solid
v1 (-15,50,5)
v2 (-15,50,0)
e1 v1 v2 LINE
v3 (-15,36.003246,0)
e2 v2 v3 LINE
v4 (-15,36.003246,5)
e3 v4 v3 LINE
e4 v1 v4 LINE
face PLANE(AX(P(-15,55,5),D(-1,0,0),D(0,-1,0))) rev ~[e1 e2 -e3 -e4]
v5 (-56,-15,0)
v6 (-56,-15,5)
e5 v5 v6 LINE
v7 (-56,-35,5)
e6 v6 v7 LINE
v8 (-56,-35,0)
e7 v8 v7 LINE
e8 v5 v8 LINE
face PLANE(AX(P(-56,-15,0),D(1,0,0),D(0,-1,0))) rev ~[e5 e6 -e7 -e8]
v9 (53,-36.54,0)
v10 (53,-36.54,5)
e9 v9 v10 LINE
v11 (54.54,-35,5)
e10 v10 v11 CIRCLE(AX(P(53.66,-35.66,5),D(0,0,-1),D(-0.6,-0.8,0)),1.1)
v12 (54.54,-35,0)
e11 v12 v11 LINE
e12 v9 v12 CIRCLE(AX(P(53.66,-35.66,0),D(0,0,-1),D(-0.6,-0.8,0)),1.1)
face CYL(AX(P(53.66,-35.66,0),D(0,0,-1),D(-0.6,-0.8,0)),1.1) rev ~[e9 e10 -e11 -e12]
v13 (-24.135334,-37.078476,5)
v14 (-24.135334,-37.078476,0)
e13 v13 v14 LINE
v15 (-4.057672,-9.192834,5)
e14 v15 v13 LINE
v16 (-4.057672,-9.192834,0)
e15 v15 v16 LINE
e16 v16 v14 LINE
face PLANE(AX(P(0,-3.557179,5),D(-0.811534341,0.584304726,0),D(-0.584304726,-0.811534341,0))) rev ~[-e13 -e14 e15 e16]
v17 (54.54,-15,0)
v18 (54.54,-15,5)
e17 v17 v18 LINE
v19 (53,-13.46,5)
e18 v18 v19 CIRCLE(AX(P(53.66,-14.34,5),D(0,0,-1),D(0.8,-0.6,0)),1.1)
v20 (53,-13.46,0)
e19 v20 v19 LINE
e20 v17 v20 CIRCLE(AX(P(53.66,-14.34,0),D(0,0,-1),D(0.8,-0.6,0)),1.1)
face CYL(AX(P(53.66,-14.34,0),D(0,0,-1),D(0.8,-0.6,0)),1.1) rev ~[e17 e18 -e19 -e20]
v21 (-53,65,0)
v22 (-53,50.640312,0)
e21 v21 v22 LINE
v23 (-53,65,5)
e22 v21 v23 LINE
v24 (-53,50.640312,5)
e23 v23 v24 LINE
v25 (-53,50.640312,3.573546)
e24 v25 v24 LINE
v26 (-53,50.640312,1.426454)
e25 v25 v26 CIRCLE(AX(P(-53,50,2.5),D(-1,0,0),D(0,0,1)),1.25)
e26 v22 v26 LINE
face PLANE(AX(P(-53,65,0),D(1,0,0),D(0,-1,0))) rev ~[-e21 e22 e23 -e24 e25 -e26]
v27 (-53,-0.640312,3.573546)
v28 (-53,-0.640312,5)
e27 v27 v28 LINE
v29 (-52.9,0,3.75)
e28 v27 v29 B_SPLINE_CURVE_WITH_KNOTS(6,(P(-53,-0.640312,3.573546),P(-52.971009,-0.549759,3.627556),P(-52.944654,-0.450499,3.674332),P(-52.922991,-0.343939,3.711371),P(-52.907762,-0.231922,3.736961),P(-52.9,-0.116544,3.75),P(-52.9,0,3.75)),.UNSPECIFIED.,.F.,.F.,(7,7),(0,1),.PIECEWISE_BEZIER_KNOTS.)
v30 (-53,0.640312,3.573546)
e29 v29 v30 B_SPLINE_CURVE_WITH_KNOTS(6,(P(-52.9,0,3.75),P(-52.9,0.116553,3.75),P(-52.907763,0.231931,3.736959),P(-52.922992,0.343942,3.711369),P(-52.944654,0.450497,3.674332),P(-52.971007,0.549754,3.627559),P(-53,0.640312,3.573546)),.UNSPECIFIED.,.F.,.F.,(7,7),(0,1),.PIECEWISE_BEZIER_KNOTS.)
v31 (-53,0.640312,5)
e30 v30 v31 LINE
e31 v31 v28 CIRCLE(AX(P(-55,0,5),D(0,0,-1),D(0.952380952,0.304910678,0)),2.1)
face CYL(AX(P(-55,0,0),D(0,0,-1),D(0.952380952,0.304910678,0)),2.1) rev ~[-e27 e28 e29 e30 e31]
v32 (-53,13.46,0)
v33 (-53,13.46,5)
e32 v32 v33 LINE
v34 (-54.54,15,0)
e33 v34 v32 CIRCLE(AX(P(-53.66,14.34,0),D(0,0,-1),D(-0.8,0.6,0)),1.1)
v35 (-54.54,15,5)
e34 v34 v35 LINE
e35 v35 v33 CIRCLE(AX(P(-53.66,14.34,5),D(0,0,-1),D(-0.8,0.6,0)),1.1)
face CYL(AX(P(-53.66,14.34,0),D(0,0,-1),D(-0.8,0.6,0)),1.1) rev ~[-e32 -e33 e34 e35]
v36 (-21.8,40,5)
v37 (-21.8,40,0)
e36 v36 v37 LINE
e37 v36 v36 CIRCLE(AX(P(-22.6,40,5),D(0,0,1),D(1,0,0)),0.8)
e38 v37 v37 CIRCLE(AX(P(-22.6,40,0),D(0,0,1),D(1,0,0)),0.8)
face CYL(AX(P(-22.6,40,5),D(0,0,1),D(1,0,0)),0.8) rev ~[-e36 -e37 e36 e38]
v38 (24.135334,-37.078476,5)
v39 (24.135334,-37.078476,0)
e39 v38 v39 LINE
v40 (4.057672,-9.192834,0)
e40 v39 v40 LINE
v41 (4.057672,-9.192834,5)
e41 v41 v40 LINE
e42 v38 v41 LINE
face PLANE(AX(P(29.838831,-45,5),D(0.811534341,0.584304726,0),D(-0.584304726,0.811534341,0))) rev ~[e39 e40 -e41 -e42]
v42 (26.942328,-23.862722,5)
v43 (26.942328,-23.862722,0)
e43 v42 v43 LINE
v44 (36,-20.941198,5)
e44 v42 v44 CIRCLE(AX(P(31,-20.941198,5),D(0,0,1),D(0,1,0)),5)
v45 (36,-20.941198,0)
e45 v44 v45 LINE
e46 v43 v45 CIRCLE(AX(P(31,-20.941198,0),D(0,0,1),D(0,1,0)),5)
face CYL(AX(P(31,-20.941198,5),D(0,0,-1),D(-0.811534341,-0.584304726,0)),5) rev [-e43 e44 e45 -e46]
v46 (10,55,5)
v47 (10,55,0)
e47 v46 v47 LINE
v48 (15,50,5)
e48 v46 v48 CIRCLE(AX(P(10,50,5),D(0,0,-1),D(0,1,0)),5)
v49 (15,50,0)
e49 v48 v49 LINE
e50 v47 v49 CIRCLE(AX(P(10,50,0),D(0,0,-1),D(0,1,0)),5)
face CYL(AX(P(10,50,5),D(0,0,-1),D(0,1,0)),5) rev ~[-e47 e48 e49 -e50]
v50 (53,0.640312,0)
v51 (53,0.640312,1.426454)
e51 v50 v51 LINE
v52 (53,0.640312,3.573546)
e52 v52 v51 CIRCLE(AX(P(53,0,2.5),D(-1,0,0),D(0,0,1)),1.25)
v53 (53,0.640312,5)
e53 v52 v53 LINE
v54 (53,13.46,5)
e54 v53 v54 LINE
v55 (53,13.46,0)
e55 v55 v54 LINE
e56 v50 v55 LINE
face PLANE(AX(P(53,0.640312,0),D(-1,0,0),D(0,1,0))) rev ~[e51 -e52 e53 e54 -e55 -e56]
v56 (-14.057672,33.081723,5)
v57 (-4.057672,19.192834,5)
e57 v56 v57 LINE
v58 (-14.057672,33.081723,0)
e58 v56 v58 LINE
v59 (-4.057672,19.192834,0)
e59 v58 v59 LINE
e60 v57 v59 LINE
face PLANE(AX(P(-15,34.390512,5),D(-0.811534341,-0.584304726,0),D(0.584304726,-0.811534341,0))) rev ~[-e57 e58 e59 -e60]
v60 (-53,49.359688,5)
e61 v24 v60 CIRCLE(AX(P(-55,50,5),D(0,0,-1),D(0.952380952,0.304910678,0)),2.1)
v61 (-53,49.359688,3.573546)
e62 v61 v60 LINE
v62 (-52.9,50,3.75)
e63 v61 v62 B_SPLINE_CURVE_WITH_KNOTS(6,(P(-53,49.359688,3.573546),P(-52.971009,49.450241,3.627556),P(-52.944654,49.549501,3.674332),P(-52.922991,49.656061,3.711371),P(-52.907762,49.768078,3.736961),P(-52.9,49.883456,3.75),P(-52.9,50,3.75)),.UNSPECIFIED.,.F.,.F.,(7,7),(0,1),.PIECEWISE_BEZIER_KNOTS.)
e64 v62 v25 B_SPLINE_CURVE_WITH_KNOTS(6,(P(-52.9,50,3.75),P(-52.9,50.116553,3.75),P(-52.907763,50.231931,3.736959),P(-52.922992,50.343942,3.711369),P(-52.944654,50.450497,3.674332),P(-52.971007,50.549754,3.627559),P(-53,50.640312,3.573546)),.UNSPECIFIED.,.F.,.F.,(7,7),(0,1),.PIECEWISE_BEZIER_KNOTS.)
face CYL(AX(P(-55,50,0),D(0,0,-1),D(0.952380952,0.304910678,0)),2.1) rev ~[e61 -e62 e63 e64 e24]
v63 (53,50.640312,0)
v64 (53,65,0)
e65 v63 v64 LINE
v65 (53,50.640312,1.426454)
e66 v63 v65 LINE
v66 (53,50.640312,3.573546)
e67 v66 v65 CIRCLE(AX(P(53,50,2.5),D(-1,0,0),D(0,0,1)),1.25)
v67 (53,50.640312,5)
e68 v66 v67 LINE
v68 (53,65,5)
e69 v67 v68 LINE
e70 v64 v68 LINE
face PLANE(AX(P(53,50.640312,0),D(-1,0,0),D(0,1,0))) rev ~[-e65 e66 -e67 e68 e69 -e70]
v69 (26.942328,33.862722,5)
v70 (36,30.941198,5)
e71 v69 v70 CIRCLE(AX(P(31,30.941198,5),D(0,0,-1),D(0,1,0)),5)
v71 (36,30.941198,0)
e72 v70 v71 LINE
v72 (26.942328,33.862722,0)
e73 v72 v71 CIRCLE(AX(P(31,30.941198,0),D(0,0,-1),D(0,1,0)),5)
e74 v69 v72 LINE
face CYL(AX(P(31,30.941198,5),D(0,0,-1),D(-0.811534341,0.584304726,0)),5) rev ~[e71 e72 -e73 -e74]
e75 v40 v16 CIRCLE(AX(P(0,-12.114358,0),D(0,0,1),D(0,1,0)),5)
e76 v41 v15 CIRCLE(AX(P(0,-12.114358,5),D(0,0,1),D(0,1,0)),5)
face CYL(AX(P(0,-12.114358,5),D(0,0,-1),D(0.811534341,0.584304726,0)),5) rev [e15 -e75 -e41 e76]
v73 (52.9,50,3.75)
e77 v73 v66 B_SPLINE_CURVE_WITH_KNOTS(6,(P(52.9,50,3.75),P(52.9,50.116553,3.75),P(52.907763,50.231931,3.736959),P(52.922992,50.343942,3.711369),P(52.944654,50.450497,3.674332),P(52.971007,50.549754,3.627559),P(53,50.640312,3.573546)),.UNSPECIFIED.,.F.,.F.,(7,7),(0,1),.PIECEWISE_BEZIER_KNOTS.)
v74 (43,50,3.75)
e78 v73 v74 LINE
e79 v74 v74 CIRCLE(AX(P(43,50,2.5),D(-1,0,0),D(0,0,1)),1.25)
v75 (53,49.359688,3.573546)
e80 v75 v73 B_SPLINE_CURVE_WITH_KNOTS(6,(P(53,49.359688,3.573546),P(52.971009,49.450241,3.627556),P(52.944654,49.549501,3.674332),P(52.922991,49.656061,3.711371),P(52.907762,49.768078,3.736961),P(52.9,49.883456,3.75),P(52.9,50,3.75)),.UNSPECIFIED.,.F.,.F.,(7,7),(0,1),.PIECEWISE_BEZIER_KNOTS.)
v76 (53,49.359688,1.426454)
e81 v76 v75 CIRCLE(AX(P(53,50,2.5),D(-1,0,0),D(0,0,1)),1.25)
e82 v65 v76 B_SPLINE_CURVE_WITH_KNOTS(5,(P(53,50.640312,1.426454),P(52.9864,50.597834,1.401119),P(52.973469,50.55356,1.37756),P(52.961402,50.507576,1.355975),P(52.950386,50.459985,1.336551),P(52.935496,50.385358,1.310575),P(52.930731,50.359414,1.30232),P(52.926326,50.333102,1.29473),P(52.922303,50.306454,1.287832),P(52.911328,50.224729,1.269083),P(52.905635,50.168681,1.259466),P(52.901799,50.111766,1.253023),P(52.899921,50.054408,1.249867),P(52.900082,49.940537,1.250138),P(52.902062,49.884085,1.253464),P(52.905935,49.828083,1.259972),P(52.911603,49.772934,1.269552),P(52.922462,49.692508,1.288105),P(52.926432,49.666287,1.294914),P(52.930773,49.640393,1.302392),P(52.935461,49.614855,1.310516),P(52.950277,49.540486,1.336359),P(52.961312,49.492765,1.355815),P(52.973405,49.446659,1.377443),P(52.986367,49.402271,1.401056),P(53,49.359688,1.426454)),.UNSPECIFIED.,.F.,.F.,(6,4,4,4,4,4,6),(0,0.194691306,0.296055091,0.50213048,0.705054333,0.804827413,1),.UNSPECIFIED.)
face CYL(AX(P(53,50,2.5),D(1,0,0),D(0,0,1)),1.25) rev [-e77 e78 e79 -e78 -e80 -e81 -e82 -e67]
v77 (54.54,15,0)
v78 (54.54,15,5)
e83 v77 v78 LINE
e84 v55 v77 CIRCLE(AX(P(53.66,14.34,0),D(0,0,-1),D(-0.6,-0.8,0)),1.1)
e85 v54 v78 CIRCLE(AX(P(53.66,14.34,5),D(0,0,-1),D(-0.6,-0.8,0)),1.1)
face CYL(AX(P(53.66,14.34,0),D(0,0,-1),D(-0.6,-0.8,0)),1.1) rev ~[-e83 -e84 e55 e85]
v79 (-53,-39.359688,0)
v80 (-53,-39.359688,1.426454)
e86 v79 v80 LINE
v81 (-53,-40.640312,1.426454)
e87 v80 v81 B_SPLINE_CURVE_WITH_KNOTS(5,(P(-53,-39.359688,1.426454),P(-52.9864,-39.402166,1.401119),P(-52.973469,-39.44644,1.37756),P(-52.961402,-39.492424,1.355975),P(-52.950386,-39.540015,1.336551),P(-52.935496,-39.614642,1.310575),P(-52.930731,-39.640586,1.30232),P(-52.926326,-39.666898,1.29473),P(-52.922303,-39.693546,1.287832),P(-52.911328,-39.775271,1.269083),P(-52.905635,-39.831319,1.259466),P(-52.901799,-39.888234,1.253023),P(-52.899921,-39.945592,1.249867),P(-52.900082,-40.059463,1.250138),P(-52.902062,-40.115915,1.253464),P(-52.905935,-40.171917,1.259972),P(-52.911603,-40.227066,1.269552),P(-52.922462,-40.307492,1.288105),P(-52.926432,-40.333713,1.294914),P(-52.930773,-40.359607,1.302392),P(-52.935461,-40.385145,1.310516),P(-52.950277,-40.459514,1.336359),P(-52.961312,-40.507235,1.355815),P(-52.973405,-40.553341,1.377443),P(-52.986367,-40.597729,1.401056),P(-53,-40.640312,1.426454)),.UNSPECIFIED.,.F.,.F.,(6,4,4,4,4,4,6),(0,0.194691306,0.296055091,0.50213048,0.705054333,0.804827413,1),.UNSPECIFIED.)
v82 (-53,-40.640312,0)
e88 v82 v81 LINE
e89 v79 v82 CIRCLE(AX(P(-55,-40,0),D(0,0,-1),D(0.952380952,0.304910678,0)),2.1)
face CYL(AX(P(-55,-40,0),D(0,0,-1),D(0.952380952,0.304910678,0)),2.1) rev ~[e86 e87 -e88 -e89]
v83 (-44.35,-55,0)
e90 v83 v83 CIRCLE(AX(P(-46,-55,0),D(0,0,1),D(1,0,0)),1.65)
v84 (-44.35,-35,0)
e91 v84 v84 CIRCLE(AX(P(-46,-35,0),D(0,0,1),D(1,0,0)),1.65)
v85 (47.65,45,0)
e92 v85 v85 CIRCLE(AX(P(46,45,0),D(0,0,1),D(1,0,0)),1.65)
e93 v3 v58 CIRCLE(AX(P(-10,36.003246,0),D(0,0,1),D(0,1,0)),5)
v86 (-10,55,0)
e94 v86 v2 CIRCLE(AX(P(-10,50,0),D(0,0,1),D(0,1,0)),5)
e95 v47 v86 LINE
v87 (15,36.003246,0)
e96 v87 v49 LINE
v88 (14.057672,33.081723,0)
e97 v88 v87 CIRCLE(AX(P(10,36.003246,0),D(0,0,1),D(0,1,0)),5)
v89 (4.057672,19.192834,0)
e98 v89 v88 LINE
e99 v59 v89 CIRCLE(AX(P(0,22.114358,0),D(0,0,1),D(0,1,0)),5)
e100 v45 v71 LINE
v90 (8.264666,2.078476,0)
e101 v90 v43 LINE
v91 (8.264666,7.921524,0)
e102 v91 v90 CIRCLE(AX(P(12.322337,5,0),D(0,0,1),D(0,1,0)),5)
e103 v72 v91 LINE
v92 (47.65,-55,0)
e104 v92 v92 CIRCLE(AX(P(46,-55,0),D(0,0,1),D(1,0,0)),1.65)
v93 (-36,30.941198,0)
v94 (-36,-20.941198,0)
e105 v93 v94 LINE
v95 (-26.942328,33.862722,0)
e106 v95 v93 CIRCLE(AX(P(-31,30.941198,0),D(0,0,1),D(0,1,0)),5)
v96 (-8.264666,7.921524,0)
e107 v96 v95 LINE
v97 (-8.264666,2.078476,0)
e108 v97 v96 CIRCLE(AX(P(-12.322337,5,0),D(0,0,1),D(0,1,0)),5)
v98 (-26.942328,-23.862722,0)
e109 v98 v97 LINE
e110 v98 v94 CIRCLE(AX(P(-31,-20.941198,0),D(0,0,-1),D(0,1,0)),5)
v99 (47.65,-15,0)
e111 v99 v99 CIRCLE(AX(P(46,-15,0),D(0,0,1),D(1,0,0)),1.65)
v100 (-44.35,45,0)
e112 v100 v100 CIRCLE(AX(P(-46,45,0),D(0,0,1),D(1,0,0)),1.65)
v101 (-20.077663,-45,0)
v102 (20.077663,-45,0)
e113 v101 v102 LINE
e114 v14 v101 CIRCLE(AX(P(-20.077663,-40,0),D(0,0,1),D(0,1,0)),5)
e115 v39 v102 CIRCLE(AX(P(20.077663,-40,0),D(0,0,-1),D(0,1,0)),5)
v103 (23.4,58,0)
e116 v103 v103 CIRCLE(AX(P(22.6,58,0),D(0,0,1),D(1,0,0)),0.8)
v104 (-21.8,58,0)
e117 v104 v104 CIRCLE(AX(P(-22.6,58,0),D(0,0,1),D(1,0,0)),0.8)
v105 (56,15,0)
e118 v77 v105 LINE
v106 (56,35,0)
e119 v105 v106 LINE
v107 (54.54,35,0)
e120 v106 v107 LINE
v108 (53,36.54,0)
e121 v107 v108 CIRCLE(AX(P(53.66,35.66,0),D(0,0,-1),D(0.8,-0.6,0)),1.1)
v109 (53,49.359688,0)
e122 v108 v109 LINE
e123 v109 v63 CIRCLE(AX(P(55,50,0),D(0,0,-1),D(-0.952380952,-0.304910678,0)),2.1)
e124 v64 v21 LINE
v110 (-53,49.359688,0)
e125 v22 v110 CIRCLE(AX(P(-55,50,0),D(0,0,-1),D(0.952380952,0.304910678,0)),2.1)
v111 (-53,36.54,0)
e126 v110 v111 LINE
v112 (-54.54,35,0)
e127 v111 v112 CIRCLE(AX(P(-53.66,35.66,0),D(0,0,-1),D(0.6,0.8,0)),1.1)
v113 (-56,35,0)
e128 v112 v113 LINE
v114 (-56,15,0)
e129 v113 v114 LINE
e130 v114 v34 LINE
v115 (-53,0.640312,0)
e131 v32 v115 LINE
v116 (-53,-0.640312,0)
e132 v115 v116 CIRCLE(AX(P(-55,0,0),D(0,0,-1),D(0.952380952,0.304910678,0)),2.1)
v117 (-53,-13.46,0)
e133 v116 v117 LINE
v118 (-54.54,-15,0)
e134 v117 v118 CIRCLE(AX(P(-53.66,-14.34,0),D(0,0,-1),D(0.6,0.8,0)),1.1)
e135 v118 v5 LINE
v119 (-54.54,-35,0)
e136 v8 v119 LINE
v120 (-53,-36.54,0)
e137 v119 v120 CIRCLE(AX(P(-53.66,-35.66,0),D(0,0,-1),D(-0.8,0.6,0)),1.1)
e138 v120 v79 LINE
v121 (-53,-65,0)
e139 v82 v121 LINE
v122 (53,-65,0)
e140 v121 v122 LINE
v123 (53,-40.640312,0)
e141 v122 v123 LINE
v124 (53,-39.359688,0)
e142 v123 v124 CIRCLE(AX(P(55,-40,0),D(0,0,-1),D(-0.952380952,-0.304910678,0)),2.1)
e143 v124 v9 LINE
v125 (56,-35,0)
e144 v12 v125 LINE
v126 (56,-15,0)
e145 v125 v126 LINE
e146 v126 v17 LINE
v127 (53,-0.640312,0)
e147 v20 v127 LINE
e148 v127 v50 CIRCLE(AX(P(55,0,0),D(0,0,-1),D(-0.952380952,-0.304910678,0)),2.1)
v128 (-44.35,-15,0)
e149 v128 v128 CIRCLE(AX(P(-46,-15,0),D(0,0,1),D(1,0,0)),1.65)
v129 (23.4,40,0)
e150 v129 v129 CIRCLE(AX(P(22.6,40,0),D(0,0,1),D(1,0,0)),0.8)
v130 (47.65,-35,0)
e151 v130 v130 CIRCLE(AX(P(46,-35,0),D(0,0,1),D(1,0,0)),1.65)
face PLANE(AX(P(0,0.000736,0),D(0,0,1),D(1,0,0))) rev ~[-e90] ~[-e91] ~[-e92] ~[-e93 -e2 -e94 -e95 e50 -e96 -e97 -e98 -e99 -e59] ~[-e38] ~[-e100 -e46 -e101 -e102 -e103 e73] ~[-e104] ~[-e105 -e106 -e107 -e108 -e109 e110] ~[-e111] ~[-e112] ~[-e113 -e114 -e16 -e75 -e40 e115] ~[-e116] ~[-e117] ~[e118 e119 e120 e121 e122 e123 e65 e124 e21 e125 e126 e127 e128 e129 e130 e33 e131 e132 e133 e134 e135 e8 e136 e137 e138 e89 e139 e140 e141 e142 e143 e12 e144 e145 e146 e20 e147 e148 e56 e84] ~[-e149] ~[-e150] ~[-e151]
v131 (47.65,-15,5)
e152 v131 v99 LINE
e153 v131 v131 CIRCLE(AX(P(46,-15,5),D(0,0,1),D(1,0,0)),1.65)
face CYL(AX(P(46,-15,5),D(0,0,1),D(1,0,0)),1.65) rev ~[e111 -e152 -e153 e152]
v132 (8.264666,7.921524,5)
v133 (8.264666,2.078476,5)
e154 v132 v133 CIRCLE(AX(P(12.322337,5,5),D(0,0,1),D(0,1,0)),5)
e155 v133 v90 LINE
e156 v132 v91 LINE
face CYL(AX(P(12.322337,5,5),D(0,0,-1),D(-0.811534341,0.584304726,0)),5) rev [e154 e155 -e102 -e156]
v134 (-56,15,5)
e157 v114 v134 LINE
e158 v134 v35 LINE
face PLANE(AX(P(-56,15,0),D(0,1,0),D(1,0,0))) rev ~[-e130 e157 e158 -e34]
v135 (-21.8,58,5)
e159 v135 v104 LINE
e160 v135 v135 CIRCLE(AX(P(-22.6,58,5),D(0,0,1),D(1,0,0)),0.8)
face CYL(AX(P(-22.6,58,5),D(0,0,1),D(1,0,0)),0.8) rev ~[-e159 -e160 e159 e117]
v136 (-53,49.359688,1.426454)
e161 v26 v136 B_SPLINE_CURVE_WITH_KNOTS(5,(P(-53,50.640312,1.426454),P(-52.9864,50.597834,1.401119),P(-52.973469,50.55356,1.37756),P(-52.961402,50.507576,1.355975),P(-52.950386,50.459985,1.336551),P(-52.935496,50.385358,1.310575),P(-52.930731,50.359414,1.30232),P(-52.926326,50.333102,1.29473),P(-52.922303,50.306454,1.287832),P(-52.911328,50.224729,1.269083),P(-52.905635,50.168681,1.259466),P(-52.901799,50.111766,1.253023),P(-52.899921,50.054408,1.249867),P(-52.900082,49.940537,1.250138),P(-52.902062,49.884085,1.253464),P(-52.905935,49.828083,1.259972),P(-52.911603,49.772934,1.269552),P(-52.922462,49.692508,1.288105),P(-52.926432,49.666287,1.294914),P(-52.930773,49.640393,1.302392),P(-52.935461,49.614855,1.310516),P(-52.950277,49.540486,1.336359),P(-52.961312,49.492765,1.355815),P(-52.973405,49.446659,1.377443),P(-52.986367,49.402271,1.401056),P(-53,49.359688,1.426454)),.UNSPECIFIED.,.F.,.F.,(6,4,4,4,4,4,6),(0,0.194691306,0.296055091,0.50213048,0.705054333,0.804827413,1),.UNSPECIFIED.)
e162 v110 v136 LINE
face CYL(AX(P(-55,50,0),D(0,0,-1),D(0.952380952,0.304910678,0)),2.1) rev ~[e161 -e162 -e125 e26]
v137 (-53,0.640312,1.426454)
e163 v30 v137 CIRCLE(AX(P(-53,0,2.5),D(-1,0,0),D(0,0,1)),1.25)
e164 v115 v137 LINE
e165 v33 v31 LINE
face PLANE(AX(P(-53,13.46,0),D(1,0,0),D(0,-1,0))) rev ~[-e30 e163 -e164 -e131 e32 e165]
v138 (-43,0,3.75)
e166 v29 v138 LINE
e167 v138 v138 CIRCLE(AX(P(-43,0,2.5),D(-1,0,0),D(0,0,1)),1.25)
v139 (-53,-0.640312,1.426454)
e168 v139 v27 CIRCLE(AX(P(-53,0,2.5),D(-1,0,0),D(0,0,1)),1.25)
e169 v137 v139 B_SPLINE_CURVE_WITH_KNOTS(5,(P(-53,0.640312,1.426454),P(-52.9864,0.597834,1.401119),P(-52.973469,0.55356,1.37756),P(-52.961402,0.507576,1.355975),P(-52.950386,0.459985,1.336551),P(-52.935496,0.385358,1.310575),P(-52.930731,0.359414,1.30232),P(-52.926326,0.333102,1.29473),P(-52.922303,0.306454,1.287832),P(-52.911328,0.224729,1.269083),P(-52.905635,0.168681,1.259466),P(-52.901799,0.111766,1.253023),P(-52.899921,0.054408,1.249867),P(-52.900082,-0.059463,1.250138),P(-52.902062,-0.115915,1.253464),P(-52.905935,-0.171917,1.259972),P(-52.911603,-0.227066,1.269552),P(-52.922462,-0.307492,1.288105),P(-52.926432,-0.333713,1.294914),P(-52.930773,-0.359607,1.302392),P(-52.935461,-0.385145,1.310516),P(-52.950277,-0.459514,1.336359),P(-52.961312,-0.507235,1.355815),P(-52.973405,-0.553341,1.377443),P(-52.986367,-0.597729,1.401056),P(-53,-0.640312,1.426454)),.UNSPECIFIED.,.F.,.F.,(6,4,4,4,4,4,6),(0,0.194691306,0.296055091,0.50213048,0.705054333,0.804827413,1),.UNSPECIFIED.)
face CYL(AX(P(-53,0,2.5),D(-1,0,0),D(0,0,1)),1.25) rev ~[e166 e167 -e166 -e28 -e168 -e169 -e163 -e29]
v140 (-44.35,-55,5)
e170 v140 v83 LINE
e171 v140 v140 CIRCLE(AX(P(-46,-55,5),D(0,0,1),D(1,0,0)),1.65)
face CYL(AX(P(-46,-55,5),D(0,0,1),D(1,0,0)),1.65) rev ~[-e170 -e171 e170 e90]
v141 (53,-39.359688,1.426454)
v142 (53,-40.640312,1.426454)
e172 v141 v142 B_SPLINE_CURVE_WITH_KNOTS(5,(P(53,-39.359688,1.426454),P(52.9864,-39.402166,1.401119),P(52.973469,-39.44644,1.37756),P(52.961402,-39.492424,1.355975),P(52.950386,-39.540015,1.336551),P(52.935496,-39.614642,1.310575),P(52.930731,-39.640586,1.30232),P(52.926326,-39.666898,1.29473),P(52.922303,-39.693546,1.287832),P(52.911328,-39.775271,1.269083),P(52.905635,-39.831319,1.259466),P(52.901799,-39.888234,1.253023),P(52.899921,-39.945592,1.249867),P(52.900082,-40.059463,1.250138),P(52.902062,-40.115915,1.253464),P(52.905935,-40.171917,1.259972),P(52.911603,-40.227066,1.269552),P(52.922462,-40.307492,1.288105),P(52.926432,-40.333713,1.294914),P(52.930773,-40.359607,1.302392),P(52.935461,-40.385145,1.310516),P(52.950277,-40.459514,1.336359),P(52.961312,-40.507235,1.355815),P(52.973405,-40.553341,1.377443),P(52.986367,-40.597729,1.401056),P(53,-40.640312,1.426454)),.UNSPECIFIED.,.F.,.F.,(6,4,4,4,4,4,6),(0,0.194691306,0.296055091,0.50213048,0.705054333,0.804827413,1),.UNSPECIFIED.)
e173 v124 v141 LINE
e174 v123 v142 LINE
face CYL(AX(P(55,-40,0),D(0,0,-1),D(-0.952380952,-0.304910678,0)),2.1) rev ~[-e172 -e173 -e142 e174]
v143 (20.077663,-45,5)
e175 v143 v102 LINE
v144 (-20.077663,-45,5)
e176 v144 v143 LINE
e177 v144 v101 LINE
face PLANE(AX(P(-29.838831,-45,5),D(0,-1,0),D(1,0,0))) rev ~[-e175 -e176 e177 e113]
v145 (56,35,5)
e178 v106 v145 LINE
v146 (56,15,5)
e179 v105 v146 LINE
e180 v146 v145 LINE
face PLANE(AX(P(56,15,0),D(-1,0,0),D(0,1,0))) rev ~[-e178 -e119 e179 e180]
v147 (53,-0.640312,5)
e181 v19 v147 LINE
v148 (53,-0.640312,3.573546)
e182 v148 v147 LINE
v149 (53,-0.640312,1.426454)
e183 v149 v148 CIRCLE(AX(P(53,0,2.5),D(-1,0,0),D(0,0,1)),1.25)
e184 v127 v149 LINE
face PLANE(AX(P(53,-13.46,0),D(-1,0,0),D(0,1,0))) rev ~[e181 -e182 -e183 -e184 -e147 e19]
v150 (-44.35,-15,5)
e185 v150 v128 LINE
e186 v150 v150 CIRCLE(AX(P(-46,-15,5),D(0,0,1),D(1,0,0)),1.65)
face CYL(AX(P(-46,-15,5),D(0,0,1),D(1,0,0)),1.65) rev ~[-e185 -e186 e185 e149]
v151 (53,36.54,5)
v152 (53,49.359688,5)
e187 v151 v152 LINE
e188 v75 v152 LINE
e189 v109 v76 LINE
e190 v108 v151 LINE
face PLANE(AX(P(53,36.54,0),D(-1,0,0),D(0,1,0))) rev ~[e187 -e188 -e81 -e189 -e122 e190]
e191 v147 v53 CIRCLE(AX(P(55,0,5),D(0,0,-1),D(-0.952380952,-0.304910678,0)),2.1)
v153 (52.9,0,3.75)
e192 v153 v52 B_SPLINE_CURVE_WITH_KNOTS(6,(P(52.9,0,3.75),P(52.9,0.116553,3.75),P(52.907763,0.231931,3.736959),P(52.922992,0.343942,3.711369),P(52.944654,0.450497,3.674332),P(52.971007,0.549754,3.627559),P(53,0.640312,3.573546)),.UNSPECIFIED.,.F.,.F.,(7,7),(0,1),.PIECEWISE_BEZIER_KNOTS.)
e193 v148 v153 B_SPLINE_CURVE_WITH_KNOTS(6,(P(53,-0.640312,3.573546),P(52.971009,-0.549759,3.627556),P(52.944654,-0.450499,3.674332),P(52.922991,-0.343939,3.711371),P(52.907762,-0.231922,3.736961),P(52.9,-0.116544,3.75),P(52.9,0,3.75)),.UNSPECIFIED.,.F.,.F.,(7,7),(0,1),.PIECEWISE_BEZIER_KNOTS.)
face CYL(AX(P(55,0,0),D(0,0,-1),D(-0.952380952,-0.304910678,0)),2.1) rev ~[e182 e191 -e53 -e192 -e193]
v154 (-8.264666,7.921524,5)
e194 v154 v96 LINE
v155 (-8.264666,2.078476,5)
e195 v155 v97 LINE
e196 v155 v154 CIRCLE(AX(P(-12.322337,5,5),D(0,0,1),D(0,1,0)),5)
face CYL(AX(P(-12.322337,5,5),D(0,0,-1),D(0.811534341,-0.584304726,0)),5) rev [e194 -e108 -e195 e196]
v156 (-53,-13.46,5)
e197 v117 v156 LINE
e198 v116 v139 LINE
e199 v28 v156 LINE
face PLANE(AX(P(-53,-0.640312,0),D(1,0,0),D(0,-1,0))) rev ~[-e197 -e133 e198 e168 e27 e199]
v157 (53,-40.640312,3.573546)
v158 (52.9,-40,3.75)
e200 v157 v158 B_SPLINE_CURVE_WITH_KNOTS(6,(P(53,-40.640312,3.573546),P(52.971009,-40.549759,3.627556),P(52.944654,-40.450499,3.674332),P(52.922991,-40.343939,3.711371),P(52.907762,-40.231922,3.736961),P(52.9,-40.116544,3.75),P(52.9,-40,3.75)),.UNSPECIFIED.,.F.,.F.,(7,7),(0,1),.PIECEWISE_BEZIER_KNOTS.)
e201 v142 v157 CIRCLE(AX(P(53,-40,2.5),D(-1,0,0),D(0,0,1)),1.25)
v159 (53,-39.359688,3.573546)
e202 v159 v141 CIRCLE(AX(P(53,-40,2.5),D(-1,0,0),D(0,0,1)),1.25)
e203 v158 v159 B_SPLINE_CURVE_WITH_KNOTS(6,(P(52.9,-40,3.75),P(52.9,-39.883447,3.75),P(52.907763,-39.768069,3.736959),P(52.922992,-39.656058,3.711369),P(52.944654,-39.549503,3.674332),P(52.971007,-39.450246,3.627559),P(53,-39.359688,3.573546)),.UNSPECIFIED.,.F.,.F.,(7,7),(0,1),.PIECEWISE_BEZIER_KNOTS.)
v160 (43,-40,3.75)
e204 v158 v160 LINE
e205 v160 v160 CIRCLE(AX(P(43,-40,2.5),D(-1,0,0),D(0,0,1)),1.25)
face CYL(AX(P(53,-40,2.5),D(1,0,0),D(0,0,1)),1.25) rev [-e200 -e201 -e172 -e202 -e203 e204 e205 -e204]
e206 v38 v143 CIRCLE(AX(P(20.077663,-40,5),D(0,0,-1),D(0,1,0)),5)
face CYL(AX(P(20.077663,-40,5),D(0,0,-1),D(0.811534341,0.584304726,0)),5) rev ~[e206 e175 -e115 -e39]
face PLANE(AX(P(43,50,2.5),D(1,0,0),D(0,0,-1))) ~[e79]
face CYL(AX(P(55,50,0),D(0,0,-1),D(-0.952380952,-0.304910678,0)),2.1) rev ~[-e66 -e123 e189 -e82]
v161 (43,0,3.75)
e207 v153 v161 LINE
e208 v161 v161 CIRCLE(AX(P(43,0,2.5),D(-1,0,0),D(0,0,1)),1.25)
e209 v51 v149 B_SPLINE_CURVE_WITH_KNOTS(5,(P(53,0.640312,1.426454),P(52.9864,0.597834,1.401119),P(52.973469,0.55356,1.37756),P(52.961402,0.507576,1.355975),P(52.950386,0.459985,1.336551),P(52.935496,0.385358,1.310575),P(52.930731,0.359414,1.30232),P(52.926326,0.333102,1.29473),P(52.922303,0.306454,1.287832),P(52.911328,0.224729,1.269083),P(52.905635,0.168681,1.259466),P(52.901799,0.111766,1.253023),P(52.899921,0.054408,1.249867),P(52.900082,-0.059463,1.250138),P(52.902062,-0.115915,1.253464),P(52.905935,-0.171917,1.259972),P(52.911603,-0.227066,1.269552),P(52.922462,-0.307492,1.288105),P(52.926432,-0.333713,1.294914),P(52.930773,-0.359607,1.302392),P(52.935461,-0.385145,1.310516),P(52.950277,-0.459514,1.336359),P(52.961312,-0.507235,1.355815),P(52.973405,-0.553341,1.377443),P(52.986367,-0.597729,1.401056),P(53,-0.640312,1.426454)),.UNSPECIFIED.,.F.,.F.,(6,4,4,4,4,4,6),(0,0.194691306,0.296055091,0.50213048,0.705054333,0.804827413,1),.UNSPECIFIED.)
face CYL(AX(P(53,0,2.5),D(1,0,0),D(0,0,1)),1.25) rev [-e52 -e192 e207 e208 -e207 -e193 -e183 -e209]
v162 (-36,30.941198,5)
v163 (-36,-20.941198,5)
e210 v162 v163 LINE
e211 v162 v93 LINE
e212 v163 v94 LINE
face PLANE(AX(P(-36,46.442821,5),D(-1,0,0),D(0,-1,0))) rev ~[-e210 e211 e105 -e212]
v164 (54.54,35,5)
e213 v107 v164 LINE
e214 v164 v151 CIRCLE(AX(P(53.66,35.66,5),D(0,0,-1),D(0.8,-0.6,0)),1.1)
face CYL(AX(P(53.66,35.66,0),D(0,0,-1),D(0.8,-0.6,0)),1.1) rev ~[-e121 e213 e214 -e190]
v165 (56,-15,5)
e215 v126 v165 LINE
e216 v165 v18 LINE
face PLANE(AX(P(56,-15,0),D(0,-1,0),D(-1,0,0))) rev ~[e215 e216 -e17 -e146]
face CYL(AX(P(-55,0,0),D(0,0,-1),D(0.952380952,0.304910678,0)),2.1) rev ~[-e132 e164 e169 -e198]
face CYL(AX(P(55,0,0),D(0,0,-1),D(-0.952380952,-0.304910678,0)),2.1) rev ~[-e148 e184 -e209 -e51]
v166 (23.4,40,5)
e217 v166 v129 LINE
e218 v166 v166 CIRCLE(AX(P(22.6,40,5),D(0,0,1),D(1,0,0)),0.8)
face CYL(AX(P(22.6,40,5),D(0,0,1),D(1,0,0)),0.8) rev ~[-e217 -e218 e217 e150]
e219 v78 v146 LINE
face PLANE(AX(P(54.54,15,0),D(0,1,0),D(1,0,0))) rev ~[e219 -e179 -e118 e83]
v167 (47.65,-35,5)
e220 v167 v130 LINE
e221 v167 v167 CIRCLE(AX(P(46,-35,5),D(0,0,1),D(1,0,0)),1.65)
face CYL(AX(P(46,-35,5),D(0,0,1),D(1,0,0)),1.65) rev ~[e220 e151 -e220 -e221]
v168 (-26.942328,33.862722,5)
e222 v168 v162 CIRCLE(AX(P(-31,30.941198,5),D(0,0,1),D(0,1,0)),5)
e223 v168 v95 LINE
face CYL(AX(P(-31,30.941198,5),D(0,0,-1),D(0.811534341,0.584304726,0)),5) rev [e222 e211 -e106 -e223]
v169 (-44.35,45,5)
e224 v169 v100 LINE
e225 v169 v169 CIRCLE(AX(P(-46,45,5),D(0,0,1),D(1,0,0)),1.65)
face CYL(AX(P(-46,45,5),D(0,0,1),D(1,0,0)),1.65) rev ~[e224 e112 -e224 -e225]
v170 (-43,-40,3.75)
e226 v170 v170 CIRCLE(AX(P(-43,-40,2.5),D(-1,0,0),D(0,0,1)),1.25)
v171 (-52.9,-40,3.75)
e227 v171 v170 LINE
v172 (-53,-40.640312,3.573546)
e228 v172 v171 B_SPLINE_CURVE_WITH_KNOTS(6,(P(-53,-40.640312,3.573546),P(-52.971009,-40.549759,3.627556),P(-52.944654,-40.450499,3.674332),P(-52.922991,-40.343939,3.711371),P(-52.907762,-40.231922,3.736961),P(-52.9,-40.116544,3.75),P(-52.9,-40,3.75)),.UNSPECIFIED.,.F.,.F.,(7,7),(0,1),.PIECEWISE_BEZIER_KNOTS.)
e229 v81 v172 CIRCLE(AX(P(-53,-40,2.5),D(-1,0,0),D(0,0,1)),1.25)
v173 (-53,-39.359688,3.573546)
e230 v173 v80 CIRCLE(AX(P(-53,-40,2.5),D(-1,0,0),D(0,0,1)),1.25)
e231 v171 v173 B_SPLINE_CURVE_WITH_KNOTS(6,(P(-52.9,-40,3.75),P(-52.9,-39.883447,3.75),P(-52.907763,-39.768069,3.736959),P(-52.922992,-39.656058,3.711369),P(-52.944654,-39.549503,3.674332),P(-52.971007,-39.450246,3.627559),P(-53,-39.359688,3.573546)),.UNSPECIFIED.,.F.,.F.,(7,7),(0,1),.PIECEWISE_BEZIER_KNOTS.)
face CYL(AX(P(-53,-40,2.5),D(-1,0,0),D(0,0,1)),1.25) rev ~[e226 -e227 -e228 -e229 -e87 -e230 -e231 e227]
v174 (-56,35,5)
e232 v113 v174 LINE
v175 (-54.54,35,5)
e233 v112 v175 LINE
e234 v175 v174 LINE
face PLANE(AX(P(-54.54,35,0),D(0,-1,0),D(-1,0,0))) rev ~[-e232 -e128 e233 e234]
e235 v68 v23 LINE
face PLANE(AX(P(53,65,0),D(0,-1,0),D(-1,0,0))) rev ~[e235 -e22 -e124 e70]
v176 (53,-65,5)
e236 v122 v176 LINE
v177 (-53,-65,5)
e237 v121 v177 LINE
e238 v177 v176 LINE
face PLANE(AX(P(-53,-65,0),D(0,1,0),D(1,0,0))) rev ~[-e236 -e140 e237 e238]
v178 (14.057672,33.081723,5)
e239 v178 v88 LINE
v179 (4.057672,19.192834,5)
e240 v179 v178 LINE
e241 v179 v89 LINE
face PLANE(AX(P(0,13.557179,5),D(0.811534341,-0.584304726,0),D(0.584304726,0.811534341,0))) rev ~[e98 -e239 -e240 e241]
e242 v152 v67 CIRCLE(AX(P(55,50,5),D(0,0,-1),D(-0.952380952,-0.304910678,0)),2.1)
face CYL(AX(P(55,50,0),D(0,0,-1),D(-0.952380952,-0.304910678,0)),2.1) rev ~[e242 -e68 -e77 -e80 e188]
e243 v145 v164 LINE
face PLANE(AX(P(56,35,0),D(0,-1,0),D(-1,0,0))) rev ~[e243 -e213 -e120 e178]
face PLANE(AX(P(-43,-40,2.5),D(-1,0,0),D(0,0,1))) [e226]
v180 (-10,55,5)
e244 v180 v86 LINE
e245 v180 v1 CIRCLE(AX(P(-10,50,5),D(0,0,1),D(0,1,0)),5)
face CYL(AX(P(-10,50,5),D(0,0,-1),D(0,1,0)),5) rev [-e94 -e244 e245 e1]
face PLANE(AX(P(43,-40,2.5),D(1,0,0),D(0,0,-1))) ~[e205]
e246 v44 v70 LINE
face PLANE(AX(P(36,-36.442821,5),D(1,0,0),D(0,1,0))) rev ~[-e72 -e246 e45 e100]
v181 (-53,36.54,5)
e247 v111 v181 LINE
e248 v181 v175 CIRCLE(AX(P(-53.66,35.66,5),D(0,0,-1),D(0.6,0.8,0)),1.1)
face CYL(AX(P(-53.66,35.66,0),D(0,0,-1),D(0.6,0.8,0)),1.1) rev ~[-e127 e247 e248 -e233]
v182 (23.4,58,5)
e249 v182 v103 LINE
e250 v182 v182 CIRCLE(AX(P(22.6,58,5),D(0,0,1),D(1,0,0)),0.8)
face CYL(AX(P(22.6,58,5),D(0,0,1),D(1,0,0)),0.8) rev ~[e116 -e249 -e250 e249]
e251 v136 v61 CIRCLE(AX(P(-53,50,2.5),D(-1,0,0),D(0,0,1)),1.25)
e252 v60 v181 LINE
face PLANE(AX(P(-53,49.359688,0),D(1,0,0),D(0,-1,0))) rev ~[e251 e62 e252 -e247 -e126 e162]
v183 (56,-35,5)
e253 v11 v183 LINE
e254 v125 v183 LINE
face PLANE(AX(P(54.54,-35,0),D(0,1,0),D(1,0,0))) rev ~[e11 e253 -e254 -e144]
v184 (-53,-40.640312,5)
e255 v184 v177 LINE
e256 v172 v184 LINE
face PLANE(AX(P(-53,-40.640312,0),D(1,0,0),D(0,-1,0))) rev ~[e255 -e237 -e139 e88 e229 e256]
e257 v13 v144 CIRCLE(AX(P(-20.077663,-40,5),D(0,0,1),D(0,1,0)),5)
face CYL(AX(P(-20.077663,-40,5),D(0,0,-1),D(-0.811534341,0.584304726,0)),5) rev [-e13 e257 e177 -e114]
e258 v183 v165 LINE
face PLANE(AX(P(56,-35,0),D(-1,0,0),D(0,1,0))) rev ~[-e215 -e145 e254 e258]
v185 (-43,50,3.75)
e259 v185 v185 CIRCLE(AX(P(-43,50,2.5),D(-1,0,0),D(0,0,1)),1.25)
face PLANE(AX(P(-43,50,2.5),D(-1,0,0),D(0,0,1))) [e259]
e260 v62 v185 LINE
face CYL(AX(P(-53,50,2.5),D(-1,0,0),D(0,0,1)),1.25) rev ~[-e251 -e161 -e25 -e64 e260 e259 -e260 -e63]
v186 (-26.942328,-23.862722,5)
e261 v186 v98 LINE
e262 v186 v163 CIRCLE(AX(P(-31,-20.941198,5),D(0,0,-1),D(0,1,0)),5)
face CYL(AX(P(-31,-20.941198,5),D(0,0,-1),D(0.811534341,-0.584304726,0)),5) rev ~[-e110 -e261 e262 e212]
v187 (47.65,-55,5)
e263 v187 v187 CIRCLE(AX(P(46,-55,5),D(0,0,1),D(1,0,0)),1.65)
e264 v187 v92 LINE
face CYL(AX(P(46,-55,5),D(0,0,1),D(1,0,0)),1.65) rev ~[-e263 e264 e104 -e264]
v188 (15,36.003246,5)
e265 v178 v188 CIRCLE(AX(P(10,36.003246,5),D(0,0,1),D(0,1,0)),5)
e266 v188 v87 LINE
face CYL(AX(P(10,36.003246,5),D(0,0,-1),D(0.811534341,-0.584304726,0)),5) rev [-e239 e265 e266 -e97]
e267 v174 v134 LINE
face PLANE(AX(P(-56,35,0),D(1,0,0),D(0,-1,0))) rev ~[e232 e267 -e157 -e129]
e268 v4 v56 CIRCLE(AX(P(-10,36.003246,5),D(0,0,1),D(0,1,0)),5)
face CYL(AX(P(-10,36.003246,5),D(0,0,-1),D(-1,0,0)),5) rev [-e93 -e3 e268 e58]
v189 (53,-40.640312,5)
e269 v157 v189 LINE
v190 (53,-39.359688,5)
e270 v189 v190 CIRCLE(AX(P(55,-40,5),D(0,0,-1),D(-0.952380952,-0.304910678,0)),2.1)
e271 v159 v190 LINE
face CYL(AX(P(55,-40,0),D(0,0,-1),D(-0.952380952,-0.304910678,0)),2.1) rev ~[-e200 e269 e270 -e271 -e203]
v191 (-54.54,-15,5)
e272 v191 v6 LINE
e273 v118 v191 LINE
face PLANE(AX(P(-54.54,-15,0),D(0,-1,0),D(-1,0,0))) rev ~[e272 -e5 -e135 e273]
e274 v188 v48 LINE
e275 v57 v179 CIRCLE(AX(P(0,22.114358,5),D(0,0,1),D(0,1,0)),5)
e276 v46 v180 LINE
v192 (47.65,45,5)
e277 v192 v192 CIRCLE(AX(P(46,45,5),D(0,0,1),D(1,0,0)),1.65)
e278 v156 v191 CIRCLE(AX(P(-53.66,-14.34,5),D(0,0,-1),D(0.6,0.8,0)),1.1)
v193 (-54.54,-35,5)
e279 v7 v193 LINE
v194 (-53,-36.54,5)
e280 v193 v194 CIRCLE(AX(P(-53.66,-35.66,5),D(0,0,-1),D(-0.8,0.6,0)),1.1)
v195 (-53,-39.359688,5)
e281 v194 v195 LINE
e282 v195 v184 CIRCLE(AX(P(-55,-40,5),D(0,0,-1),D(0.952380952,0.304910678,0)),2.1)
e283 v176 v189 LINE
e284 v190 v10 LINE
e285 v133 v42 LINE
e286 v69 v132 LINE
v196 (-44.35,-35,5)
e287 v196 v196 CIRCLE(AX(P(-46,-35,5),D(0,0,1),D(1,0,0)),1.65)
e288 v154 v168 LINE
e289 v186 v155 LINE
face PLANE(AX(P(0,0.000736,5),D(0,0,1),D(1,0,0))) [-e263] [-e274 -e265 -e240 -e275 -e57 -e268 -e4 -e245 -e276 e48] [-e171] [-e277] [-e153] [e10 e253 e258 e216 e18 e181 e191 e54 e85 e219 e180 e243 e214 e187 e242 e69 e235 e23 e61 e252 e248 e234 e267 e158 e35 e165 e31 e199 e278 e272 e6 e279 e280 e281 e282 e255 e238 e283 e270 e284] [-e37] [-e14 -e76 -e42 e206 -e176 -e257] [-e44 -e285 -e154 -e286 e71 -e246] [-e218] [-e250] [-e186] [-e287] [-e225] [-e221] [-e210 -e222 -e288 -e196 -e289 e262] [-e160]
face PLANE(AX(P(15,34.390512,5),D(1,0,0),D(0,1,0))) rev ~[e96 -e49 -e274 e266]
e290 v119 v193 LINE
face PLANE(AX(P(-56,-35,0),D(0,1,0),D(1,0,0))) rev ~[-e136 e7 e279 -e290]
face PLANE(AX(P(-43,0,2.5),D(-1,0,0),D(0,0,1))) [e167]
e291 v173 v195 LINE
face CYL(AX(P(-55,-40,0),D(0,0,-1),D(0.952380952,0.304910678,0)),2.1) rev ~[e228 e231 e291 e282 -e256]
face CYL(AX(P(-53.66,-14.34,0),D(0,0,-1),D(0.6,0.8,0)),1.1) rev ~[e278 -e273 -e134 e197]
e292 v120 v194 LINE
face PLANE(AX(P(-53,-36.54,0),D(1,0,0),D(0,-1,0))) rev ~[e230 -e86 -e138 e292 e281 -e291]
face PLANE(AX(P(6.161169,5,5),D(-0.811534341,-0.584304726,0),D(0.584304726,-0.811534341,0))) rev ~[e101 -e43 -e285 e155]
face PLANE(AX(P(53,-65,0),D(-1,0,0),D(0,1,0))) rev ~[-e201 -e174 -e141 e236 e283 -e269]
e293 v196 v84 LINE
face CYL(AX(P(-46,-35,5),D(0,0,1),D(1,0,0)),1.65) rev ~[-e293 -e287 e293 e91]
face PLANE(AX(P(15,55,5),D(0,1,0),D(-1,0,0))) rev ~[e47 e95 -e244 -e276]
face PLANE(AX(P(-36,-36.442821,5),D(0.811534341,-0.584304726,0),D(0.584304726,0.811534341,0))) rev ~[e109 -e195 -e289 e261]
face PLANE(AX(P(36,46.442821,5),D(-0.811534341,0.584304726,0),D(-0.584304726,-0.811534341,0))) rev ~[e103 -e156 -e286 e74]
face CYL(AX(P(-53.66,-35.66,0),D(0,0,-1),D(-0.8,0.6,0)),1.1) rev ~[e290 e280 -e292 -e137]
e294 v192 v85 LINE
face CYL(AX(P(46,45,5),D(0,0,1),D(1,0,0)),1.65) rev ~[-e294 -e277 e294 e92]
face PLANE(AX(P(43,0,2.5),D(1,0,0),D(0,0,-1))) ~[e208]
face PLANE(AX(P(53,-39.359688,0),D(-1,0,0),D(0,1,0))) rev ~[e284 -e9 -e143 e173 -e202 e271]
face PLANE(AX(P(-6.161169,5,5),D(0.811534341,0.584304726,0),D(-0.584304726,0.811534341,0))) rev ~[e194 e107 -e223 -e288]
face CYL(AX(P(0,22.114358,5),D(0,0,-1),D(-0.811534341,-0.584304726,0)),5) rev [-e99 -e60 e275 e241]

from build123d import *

# Parameters (mm, degrees)
EXTRUDE_1_DEPTH     = 5
SKETCH_2_R          = 1.25
CUT_EXTRUDE_1_DEPTH = 10
SKETCH_3_R          = 1.65
CUT_EXTRUDE_2_DEPTH = 10
SKETCH_5_R          = 0.8
CUT_EXTRUDE_4_DEPTH = 10
CUT_EXTRUDE_3_DEPTH = 10
FILLET_2_R          = 5


with BuildPart() as part:
    # ｽｹｯﾁ1 → ﾎﾞｽ - 押し出し1 (new body)
    with BuildSketch(Plane.XY):
        with BuildLine():
            Line((-53, -40.640312424), (-53, -65))
            Line((-53, -65), (53, -65))
            Line((53, -65), (53, -40.640312424))
            ThreePointArc((53, -40.640312424), (52.9, -40), (53, -39.359687576))
            Line((53, -39.359687576), (53, -36.54))
            ThreePointArc((53, -36.54), (52.882182541, -34.882182541), (54.54, -35))
            Line((54.54, -35), (56, -35))
            Line((56, -35), (56, -15))
            Line((56, -15), (54.54, -15))
            ThreePointArc((54.54, -15), (52.882182541, -15.117817459), (53, -13.46))
            Line((53, -13.46), (53, -0.640312424))
            ThreePointArc((53, -0.640312424), (52.9, 0), (53, 0.640312424))
            Line((53, 0.640312424), (53, 13.46))
            ThreePointArc((53, 13.46), (52.882182541, 15.117817459), (54.54, 15))
            Line((54.54, 15), (56, 15))
            Line((56, 15), (56, 35))
            Line((56, 35), (54.54, 35))
            ThreePointArc((54.54, 35), (52.882182541, 34.882182541), (53, 36.54))
            Line((53, 36.54), (53, 49.359687576))
            ThreePointArc((53, 49.359687576), (52.9, 50), (53, 50.640312424))
            Line((53, 50.640312424), (53, 65))
            Line((53, 65), (-53, 65))
            Line((-53, 65), (-53, 50.640312424))
            ThreePointArc((-53, 50.640312424), (-52.9, 50), (-53, 49.359687576))
            Line((-53, 49.359687576), (-53, 36.54))
            ThreePointArc((-53, 36.54), (-52.882182541, 34.882182541), (-54.54, 35))
            Line((-54.54, 35), (-56, 35))
            Line((-56, 35), (-56, 15))
            Line((-56, 15), (-54.54, 15))
            ThreePointArc((-54.54, 15), (-52.882182541, 15.117817459), (-53, 13.46))
            Line((-53, 13.46), (-53, 0.640312424))
            ThreePointArc((-53, 0.640312424), (-52.9, 0), (-53, -0.640312424))
            Line((-53, -0.640312424), (-53, -13.46))
            ThreePointArc((-53, -13.46), (-52.882182541, -15.117817459), (-54.54, -15))
            Line((-54.54, -15), (-56, -15))
            Line((-56, -15), (-56, -35))
            Line((-56, -35), (-54.54, -35))
            ThreePointArc((-54.54, -35), (-52.882182541, -34.882182541), (-53, -36.54))
            Line((-53, -36.54), (-53, -39.359687576))
            ThreePointArc((-53, -39.359687576), (-52.9, -40), (-53, -40.640312424))
        make_face()
    extrude(amount=EXTRUDE_1_DEPTH)

    # ｽｹｯﾁ2 → ｶｯﾄ - 押し出し1 (cut)
    with BuildSketch(Plane.ZY.offset(53)):
        with Locations((2.5, -40)):
            Circle(SKETCH_2_R)
        with Locations((2.5, 0)):
            Circle(SKETCH_2_R)
        with Locations((2.5, 50)):
            Circle(SKETCH_2_R)
    cut_extrude_1 = extrude(amount=-CUT_EXTRUDE_1_DEPTH, mode=Mode.SUBTRACT)

    # ﾐﾗｰ1: ｶｯﾄ - 押し出し1 across plane
    add(cut_extrude_1.mirror(Plane(origin=(0, 0, 0), x_dir=(0, 0, 1), z_dir=(1, 0, 0))), mode=Mode.SUBTRACT)

    # ｽｹｯﾁ3 → ｶｯﾄ - 押し出し2 (cut)
    with BuildSketch(Plane.XY.offset(5)):
        with Locations((-46, -55)):
            Circle(SKETCH_3_R)
        with Locations((46, -55)):
            Circle(SKETCH_3_R)
        with Locations((46, -35)):
            Circle(SKETCH_3_R)
        with Locations((-46, -35)):
            Circle(SKETCH_3_R)
        with Locations((-46, -15)):
            Circle(SKETCH_3_R)
        with Locations((46, -15)):
            Circle(SKETCH_3_R)
        with Locations((-46, 45)):
            Circle(SKETCH_3_R)
        with Locations((46, 45)):
            Circle(SKETCH_3_R)
    extrude(amount=-CUT_EXTRUDE_2_DEPTH, mode=Mode.SUBTRACT)

    # ｽｹｯﾁ5 → ｶｯﾄ - 押し出し4 (cut)
    with BuildSketch(Plane.XY.offset(5)):
        with Locations((-22.6, 40)):
            Circle(SKETCH_5_R)
        with Locations((22.6, 40)):
            Circle(SKETCH_5_R)
        with Locations((22.6, 58)):
            Circle(SKETCH_5_R)
        with Locations((-22.6, 58)):
            Circle(SKETCH_5_R)
    extrude(amount=-CUT_EXTRUDE_4_DEPTH, mode=Mode.SUBTRACT)

    # ｽｹｯﾁ4 → ｶｯﾄ - 押し出し3 (cut)
    with BuildSketch(Plane.XY.offset(5)):
        Polygon((-36, -36.442821222), (-6.16116872, 5), (-36, 46.442821222), align=None)
        Polygon((36, 46.442821222), (6.16116872, 5), (36, -36.442821222), align=None)
        Polygon((29.83883128, -45), (0, -3.557178778), (-29.83883128, -45), align=None)
        Polygon((15, 55), (-15, 55), (-15, 34.390512112), (0, 13.557178778), (15, 34.390512112), align=None)
    extrude(amount=-CUT_EXTRUDE_3_DEPTH, mode=Mode.SUBTRACT)

    # ﾌｨﾚｯﾄ2
    fillet_2_edges = [part.edges().sort_by_distance(p)[0] for p in [
        (-29.83883128, -45, 2.5),
        (0, -3.557178778, 2.5),
        (29.83883128, -45, 2.5),
        (6.16116872, 5, 2.5),
        (36, 46.442821222, 2.5),
        (36, -36.442821222, 2.5),
        (15, 55, 2.5),
        (15, 34.390512112, 2.5),
        (0, 13.557178778, 2.5),
        (-15, 34.390512112, 2.5),
        (-15, 55, 2.5),
        (-36, -36.442821222, 2.5),
        (-36, 46.442821222, 2.5),
        (-6.16116872, 5, 2.5),
    ]]
    fillet(fillet_2_edges, radius=FILLET_2_R)


solid = part.part
